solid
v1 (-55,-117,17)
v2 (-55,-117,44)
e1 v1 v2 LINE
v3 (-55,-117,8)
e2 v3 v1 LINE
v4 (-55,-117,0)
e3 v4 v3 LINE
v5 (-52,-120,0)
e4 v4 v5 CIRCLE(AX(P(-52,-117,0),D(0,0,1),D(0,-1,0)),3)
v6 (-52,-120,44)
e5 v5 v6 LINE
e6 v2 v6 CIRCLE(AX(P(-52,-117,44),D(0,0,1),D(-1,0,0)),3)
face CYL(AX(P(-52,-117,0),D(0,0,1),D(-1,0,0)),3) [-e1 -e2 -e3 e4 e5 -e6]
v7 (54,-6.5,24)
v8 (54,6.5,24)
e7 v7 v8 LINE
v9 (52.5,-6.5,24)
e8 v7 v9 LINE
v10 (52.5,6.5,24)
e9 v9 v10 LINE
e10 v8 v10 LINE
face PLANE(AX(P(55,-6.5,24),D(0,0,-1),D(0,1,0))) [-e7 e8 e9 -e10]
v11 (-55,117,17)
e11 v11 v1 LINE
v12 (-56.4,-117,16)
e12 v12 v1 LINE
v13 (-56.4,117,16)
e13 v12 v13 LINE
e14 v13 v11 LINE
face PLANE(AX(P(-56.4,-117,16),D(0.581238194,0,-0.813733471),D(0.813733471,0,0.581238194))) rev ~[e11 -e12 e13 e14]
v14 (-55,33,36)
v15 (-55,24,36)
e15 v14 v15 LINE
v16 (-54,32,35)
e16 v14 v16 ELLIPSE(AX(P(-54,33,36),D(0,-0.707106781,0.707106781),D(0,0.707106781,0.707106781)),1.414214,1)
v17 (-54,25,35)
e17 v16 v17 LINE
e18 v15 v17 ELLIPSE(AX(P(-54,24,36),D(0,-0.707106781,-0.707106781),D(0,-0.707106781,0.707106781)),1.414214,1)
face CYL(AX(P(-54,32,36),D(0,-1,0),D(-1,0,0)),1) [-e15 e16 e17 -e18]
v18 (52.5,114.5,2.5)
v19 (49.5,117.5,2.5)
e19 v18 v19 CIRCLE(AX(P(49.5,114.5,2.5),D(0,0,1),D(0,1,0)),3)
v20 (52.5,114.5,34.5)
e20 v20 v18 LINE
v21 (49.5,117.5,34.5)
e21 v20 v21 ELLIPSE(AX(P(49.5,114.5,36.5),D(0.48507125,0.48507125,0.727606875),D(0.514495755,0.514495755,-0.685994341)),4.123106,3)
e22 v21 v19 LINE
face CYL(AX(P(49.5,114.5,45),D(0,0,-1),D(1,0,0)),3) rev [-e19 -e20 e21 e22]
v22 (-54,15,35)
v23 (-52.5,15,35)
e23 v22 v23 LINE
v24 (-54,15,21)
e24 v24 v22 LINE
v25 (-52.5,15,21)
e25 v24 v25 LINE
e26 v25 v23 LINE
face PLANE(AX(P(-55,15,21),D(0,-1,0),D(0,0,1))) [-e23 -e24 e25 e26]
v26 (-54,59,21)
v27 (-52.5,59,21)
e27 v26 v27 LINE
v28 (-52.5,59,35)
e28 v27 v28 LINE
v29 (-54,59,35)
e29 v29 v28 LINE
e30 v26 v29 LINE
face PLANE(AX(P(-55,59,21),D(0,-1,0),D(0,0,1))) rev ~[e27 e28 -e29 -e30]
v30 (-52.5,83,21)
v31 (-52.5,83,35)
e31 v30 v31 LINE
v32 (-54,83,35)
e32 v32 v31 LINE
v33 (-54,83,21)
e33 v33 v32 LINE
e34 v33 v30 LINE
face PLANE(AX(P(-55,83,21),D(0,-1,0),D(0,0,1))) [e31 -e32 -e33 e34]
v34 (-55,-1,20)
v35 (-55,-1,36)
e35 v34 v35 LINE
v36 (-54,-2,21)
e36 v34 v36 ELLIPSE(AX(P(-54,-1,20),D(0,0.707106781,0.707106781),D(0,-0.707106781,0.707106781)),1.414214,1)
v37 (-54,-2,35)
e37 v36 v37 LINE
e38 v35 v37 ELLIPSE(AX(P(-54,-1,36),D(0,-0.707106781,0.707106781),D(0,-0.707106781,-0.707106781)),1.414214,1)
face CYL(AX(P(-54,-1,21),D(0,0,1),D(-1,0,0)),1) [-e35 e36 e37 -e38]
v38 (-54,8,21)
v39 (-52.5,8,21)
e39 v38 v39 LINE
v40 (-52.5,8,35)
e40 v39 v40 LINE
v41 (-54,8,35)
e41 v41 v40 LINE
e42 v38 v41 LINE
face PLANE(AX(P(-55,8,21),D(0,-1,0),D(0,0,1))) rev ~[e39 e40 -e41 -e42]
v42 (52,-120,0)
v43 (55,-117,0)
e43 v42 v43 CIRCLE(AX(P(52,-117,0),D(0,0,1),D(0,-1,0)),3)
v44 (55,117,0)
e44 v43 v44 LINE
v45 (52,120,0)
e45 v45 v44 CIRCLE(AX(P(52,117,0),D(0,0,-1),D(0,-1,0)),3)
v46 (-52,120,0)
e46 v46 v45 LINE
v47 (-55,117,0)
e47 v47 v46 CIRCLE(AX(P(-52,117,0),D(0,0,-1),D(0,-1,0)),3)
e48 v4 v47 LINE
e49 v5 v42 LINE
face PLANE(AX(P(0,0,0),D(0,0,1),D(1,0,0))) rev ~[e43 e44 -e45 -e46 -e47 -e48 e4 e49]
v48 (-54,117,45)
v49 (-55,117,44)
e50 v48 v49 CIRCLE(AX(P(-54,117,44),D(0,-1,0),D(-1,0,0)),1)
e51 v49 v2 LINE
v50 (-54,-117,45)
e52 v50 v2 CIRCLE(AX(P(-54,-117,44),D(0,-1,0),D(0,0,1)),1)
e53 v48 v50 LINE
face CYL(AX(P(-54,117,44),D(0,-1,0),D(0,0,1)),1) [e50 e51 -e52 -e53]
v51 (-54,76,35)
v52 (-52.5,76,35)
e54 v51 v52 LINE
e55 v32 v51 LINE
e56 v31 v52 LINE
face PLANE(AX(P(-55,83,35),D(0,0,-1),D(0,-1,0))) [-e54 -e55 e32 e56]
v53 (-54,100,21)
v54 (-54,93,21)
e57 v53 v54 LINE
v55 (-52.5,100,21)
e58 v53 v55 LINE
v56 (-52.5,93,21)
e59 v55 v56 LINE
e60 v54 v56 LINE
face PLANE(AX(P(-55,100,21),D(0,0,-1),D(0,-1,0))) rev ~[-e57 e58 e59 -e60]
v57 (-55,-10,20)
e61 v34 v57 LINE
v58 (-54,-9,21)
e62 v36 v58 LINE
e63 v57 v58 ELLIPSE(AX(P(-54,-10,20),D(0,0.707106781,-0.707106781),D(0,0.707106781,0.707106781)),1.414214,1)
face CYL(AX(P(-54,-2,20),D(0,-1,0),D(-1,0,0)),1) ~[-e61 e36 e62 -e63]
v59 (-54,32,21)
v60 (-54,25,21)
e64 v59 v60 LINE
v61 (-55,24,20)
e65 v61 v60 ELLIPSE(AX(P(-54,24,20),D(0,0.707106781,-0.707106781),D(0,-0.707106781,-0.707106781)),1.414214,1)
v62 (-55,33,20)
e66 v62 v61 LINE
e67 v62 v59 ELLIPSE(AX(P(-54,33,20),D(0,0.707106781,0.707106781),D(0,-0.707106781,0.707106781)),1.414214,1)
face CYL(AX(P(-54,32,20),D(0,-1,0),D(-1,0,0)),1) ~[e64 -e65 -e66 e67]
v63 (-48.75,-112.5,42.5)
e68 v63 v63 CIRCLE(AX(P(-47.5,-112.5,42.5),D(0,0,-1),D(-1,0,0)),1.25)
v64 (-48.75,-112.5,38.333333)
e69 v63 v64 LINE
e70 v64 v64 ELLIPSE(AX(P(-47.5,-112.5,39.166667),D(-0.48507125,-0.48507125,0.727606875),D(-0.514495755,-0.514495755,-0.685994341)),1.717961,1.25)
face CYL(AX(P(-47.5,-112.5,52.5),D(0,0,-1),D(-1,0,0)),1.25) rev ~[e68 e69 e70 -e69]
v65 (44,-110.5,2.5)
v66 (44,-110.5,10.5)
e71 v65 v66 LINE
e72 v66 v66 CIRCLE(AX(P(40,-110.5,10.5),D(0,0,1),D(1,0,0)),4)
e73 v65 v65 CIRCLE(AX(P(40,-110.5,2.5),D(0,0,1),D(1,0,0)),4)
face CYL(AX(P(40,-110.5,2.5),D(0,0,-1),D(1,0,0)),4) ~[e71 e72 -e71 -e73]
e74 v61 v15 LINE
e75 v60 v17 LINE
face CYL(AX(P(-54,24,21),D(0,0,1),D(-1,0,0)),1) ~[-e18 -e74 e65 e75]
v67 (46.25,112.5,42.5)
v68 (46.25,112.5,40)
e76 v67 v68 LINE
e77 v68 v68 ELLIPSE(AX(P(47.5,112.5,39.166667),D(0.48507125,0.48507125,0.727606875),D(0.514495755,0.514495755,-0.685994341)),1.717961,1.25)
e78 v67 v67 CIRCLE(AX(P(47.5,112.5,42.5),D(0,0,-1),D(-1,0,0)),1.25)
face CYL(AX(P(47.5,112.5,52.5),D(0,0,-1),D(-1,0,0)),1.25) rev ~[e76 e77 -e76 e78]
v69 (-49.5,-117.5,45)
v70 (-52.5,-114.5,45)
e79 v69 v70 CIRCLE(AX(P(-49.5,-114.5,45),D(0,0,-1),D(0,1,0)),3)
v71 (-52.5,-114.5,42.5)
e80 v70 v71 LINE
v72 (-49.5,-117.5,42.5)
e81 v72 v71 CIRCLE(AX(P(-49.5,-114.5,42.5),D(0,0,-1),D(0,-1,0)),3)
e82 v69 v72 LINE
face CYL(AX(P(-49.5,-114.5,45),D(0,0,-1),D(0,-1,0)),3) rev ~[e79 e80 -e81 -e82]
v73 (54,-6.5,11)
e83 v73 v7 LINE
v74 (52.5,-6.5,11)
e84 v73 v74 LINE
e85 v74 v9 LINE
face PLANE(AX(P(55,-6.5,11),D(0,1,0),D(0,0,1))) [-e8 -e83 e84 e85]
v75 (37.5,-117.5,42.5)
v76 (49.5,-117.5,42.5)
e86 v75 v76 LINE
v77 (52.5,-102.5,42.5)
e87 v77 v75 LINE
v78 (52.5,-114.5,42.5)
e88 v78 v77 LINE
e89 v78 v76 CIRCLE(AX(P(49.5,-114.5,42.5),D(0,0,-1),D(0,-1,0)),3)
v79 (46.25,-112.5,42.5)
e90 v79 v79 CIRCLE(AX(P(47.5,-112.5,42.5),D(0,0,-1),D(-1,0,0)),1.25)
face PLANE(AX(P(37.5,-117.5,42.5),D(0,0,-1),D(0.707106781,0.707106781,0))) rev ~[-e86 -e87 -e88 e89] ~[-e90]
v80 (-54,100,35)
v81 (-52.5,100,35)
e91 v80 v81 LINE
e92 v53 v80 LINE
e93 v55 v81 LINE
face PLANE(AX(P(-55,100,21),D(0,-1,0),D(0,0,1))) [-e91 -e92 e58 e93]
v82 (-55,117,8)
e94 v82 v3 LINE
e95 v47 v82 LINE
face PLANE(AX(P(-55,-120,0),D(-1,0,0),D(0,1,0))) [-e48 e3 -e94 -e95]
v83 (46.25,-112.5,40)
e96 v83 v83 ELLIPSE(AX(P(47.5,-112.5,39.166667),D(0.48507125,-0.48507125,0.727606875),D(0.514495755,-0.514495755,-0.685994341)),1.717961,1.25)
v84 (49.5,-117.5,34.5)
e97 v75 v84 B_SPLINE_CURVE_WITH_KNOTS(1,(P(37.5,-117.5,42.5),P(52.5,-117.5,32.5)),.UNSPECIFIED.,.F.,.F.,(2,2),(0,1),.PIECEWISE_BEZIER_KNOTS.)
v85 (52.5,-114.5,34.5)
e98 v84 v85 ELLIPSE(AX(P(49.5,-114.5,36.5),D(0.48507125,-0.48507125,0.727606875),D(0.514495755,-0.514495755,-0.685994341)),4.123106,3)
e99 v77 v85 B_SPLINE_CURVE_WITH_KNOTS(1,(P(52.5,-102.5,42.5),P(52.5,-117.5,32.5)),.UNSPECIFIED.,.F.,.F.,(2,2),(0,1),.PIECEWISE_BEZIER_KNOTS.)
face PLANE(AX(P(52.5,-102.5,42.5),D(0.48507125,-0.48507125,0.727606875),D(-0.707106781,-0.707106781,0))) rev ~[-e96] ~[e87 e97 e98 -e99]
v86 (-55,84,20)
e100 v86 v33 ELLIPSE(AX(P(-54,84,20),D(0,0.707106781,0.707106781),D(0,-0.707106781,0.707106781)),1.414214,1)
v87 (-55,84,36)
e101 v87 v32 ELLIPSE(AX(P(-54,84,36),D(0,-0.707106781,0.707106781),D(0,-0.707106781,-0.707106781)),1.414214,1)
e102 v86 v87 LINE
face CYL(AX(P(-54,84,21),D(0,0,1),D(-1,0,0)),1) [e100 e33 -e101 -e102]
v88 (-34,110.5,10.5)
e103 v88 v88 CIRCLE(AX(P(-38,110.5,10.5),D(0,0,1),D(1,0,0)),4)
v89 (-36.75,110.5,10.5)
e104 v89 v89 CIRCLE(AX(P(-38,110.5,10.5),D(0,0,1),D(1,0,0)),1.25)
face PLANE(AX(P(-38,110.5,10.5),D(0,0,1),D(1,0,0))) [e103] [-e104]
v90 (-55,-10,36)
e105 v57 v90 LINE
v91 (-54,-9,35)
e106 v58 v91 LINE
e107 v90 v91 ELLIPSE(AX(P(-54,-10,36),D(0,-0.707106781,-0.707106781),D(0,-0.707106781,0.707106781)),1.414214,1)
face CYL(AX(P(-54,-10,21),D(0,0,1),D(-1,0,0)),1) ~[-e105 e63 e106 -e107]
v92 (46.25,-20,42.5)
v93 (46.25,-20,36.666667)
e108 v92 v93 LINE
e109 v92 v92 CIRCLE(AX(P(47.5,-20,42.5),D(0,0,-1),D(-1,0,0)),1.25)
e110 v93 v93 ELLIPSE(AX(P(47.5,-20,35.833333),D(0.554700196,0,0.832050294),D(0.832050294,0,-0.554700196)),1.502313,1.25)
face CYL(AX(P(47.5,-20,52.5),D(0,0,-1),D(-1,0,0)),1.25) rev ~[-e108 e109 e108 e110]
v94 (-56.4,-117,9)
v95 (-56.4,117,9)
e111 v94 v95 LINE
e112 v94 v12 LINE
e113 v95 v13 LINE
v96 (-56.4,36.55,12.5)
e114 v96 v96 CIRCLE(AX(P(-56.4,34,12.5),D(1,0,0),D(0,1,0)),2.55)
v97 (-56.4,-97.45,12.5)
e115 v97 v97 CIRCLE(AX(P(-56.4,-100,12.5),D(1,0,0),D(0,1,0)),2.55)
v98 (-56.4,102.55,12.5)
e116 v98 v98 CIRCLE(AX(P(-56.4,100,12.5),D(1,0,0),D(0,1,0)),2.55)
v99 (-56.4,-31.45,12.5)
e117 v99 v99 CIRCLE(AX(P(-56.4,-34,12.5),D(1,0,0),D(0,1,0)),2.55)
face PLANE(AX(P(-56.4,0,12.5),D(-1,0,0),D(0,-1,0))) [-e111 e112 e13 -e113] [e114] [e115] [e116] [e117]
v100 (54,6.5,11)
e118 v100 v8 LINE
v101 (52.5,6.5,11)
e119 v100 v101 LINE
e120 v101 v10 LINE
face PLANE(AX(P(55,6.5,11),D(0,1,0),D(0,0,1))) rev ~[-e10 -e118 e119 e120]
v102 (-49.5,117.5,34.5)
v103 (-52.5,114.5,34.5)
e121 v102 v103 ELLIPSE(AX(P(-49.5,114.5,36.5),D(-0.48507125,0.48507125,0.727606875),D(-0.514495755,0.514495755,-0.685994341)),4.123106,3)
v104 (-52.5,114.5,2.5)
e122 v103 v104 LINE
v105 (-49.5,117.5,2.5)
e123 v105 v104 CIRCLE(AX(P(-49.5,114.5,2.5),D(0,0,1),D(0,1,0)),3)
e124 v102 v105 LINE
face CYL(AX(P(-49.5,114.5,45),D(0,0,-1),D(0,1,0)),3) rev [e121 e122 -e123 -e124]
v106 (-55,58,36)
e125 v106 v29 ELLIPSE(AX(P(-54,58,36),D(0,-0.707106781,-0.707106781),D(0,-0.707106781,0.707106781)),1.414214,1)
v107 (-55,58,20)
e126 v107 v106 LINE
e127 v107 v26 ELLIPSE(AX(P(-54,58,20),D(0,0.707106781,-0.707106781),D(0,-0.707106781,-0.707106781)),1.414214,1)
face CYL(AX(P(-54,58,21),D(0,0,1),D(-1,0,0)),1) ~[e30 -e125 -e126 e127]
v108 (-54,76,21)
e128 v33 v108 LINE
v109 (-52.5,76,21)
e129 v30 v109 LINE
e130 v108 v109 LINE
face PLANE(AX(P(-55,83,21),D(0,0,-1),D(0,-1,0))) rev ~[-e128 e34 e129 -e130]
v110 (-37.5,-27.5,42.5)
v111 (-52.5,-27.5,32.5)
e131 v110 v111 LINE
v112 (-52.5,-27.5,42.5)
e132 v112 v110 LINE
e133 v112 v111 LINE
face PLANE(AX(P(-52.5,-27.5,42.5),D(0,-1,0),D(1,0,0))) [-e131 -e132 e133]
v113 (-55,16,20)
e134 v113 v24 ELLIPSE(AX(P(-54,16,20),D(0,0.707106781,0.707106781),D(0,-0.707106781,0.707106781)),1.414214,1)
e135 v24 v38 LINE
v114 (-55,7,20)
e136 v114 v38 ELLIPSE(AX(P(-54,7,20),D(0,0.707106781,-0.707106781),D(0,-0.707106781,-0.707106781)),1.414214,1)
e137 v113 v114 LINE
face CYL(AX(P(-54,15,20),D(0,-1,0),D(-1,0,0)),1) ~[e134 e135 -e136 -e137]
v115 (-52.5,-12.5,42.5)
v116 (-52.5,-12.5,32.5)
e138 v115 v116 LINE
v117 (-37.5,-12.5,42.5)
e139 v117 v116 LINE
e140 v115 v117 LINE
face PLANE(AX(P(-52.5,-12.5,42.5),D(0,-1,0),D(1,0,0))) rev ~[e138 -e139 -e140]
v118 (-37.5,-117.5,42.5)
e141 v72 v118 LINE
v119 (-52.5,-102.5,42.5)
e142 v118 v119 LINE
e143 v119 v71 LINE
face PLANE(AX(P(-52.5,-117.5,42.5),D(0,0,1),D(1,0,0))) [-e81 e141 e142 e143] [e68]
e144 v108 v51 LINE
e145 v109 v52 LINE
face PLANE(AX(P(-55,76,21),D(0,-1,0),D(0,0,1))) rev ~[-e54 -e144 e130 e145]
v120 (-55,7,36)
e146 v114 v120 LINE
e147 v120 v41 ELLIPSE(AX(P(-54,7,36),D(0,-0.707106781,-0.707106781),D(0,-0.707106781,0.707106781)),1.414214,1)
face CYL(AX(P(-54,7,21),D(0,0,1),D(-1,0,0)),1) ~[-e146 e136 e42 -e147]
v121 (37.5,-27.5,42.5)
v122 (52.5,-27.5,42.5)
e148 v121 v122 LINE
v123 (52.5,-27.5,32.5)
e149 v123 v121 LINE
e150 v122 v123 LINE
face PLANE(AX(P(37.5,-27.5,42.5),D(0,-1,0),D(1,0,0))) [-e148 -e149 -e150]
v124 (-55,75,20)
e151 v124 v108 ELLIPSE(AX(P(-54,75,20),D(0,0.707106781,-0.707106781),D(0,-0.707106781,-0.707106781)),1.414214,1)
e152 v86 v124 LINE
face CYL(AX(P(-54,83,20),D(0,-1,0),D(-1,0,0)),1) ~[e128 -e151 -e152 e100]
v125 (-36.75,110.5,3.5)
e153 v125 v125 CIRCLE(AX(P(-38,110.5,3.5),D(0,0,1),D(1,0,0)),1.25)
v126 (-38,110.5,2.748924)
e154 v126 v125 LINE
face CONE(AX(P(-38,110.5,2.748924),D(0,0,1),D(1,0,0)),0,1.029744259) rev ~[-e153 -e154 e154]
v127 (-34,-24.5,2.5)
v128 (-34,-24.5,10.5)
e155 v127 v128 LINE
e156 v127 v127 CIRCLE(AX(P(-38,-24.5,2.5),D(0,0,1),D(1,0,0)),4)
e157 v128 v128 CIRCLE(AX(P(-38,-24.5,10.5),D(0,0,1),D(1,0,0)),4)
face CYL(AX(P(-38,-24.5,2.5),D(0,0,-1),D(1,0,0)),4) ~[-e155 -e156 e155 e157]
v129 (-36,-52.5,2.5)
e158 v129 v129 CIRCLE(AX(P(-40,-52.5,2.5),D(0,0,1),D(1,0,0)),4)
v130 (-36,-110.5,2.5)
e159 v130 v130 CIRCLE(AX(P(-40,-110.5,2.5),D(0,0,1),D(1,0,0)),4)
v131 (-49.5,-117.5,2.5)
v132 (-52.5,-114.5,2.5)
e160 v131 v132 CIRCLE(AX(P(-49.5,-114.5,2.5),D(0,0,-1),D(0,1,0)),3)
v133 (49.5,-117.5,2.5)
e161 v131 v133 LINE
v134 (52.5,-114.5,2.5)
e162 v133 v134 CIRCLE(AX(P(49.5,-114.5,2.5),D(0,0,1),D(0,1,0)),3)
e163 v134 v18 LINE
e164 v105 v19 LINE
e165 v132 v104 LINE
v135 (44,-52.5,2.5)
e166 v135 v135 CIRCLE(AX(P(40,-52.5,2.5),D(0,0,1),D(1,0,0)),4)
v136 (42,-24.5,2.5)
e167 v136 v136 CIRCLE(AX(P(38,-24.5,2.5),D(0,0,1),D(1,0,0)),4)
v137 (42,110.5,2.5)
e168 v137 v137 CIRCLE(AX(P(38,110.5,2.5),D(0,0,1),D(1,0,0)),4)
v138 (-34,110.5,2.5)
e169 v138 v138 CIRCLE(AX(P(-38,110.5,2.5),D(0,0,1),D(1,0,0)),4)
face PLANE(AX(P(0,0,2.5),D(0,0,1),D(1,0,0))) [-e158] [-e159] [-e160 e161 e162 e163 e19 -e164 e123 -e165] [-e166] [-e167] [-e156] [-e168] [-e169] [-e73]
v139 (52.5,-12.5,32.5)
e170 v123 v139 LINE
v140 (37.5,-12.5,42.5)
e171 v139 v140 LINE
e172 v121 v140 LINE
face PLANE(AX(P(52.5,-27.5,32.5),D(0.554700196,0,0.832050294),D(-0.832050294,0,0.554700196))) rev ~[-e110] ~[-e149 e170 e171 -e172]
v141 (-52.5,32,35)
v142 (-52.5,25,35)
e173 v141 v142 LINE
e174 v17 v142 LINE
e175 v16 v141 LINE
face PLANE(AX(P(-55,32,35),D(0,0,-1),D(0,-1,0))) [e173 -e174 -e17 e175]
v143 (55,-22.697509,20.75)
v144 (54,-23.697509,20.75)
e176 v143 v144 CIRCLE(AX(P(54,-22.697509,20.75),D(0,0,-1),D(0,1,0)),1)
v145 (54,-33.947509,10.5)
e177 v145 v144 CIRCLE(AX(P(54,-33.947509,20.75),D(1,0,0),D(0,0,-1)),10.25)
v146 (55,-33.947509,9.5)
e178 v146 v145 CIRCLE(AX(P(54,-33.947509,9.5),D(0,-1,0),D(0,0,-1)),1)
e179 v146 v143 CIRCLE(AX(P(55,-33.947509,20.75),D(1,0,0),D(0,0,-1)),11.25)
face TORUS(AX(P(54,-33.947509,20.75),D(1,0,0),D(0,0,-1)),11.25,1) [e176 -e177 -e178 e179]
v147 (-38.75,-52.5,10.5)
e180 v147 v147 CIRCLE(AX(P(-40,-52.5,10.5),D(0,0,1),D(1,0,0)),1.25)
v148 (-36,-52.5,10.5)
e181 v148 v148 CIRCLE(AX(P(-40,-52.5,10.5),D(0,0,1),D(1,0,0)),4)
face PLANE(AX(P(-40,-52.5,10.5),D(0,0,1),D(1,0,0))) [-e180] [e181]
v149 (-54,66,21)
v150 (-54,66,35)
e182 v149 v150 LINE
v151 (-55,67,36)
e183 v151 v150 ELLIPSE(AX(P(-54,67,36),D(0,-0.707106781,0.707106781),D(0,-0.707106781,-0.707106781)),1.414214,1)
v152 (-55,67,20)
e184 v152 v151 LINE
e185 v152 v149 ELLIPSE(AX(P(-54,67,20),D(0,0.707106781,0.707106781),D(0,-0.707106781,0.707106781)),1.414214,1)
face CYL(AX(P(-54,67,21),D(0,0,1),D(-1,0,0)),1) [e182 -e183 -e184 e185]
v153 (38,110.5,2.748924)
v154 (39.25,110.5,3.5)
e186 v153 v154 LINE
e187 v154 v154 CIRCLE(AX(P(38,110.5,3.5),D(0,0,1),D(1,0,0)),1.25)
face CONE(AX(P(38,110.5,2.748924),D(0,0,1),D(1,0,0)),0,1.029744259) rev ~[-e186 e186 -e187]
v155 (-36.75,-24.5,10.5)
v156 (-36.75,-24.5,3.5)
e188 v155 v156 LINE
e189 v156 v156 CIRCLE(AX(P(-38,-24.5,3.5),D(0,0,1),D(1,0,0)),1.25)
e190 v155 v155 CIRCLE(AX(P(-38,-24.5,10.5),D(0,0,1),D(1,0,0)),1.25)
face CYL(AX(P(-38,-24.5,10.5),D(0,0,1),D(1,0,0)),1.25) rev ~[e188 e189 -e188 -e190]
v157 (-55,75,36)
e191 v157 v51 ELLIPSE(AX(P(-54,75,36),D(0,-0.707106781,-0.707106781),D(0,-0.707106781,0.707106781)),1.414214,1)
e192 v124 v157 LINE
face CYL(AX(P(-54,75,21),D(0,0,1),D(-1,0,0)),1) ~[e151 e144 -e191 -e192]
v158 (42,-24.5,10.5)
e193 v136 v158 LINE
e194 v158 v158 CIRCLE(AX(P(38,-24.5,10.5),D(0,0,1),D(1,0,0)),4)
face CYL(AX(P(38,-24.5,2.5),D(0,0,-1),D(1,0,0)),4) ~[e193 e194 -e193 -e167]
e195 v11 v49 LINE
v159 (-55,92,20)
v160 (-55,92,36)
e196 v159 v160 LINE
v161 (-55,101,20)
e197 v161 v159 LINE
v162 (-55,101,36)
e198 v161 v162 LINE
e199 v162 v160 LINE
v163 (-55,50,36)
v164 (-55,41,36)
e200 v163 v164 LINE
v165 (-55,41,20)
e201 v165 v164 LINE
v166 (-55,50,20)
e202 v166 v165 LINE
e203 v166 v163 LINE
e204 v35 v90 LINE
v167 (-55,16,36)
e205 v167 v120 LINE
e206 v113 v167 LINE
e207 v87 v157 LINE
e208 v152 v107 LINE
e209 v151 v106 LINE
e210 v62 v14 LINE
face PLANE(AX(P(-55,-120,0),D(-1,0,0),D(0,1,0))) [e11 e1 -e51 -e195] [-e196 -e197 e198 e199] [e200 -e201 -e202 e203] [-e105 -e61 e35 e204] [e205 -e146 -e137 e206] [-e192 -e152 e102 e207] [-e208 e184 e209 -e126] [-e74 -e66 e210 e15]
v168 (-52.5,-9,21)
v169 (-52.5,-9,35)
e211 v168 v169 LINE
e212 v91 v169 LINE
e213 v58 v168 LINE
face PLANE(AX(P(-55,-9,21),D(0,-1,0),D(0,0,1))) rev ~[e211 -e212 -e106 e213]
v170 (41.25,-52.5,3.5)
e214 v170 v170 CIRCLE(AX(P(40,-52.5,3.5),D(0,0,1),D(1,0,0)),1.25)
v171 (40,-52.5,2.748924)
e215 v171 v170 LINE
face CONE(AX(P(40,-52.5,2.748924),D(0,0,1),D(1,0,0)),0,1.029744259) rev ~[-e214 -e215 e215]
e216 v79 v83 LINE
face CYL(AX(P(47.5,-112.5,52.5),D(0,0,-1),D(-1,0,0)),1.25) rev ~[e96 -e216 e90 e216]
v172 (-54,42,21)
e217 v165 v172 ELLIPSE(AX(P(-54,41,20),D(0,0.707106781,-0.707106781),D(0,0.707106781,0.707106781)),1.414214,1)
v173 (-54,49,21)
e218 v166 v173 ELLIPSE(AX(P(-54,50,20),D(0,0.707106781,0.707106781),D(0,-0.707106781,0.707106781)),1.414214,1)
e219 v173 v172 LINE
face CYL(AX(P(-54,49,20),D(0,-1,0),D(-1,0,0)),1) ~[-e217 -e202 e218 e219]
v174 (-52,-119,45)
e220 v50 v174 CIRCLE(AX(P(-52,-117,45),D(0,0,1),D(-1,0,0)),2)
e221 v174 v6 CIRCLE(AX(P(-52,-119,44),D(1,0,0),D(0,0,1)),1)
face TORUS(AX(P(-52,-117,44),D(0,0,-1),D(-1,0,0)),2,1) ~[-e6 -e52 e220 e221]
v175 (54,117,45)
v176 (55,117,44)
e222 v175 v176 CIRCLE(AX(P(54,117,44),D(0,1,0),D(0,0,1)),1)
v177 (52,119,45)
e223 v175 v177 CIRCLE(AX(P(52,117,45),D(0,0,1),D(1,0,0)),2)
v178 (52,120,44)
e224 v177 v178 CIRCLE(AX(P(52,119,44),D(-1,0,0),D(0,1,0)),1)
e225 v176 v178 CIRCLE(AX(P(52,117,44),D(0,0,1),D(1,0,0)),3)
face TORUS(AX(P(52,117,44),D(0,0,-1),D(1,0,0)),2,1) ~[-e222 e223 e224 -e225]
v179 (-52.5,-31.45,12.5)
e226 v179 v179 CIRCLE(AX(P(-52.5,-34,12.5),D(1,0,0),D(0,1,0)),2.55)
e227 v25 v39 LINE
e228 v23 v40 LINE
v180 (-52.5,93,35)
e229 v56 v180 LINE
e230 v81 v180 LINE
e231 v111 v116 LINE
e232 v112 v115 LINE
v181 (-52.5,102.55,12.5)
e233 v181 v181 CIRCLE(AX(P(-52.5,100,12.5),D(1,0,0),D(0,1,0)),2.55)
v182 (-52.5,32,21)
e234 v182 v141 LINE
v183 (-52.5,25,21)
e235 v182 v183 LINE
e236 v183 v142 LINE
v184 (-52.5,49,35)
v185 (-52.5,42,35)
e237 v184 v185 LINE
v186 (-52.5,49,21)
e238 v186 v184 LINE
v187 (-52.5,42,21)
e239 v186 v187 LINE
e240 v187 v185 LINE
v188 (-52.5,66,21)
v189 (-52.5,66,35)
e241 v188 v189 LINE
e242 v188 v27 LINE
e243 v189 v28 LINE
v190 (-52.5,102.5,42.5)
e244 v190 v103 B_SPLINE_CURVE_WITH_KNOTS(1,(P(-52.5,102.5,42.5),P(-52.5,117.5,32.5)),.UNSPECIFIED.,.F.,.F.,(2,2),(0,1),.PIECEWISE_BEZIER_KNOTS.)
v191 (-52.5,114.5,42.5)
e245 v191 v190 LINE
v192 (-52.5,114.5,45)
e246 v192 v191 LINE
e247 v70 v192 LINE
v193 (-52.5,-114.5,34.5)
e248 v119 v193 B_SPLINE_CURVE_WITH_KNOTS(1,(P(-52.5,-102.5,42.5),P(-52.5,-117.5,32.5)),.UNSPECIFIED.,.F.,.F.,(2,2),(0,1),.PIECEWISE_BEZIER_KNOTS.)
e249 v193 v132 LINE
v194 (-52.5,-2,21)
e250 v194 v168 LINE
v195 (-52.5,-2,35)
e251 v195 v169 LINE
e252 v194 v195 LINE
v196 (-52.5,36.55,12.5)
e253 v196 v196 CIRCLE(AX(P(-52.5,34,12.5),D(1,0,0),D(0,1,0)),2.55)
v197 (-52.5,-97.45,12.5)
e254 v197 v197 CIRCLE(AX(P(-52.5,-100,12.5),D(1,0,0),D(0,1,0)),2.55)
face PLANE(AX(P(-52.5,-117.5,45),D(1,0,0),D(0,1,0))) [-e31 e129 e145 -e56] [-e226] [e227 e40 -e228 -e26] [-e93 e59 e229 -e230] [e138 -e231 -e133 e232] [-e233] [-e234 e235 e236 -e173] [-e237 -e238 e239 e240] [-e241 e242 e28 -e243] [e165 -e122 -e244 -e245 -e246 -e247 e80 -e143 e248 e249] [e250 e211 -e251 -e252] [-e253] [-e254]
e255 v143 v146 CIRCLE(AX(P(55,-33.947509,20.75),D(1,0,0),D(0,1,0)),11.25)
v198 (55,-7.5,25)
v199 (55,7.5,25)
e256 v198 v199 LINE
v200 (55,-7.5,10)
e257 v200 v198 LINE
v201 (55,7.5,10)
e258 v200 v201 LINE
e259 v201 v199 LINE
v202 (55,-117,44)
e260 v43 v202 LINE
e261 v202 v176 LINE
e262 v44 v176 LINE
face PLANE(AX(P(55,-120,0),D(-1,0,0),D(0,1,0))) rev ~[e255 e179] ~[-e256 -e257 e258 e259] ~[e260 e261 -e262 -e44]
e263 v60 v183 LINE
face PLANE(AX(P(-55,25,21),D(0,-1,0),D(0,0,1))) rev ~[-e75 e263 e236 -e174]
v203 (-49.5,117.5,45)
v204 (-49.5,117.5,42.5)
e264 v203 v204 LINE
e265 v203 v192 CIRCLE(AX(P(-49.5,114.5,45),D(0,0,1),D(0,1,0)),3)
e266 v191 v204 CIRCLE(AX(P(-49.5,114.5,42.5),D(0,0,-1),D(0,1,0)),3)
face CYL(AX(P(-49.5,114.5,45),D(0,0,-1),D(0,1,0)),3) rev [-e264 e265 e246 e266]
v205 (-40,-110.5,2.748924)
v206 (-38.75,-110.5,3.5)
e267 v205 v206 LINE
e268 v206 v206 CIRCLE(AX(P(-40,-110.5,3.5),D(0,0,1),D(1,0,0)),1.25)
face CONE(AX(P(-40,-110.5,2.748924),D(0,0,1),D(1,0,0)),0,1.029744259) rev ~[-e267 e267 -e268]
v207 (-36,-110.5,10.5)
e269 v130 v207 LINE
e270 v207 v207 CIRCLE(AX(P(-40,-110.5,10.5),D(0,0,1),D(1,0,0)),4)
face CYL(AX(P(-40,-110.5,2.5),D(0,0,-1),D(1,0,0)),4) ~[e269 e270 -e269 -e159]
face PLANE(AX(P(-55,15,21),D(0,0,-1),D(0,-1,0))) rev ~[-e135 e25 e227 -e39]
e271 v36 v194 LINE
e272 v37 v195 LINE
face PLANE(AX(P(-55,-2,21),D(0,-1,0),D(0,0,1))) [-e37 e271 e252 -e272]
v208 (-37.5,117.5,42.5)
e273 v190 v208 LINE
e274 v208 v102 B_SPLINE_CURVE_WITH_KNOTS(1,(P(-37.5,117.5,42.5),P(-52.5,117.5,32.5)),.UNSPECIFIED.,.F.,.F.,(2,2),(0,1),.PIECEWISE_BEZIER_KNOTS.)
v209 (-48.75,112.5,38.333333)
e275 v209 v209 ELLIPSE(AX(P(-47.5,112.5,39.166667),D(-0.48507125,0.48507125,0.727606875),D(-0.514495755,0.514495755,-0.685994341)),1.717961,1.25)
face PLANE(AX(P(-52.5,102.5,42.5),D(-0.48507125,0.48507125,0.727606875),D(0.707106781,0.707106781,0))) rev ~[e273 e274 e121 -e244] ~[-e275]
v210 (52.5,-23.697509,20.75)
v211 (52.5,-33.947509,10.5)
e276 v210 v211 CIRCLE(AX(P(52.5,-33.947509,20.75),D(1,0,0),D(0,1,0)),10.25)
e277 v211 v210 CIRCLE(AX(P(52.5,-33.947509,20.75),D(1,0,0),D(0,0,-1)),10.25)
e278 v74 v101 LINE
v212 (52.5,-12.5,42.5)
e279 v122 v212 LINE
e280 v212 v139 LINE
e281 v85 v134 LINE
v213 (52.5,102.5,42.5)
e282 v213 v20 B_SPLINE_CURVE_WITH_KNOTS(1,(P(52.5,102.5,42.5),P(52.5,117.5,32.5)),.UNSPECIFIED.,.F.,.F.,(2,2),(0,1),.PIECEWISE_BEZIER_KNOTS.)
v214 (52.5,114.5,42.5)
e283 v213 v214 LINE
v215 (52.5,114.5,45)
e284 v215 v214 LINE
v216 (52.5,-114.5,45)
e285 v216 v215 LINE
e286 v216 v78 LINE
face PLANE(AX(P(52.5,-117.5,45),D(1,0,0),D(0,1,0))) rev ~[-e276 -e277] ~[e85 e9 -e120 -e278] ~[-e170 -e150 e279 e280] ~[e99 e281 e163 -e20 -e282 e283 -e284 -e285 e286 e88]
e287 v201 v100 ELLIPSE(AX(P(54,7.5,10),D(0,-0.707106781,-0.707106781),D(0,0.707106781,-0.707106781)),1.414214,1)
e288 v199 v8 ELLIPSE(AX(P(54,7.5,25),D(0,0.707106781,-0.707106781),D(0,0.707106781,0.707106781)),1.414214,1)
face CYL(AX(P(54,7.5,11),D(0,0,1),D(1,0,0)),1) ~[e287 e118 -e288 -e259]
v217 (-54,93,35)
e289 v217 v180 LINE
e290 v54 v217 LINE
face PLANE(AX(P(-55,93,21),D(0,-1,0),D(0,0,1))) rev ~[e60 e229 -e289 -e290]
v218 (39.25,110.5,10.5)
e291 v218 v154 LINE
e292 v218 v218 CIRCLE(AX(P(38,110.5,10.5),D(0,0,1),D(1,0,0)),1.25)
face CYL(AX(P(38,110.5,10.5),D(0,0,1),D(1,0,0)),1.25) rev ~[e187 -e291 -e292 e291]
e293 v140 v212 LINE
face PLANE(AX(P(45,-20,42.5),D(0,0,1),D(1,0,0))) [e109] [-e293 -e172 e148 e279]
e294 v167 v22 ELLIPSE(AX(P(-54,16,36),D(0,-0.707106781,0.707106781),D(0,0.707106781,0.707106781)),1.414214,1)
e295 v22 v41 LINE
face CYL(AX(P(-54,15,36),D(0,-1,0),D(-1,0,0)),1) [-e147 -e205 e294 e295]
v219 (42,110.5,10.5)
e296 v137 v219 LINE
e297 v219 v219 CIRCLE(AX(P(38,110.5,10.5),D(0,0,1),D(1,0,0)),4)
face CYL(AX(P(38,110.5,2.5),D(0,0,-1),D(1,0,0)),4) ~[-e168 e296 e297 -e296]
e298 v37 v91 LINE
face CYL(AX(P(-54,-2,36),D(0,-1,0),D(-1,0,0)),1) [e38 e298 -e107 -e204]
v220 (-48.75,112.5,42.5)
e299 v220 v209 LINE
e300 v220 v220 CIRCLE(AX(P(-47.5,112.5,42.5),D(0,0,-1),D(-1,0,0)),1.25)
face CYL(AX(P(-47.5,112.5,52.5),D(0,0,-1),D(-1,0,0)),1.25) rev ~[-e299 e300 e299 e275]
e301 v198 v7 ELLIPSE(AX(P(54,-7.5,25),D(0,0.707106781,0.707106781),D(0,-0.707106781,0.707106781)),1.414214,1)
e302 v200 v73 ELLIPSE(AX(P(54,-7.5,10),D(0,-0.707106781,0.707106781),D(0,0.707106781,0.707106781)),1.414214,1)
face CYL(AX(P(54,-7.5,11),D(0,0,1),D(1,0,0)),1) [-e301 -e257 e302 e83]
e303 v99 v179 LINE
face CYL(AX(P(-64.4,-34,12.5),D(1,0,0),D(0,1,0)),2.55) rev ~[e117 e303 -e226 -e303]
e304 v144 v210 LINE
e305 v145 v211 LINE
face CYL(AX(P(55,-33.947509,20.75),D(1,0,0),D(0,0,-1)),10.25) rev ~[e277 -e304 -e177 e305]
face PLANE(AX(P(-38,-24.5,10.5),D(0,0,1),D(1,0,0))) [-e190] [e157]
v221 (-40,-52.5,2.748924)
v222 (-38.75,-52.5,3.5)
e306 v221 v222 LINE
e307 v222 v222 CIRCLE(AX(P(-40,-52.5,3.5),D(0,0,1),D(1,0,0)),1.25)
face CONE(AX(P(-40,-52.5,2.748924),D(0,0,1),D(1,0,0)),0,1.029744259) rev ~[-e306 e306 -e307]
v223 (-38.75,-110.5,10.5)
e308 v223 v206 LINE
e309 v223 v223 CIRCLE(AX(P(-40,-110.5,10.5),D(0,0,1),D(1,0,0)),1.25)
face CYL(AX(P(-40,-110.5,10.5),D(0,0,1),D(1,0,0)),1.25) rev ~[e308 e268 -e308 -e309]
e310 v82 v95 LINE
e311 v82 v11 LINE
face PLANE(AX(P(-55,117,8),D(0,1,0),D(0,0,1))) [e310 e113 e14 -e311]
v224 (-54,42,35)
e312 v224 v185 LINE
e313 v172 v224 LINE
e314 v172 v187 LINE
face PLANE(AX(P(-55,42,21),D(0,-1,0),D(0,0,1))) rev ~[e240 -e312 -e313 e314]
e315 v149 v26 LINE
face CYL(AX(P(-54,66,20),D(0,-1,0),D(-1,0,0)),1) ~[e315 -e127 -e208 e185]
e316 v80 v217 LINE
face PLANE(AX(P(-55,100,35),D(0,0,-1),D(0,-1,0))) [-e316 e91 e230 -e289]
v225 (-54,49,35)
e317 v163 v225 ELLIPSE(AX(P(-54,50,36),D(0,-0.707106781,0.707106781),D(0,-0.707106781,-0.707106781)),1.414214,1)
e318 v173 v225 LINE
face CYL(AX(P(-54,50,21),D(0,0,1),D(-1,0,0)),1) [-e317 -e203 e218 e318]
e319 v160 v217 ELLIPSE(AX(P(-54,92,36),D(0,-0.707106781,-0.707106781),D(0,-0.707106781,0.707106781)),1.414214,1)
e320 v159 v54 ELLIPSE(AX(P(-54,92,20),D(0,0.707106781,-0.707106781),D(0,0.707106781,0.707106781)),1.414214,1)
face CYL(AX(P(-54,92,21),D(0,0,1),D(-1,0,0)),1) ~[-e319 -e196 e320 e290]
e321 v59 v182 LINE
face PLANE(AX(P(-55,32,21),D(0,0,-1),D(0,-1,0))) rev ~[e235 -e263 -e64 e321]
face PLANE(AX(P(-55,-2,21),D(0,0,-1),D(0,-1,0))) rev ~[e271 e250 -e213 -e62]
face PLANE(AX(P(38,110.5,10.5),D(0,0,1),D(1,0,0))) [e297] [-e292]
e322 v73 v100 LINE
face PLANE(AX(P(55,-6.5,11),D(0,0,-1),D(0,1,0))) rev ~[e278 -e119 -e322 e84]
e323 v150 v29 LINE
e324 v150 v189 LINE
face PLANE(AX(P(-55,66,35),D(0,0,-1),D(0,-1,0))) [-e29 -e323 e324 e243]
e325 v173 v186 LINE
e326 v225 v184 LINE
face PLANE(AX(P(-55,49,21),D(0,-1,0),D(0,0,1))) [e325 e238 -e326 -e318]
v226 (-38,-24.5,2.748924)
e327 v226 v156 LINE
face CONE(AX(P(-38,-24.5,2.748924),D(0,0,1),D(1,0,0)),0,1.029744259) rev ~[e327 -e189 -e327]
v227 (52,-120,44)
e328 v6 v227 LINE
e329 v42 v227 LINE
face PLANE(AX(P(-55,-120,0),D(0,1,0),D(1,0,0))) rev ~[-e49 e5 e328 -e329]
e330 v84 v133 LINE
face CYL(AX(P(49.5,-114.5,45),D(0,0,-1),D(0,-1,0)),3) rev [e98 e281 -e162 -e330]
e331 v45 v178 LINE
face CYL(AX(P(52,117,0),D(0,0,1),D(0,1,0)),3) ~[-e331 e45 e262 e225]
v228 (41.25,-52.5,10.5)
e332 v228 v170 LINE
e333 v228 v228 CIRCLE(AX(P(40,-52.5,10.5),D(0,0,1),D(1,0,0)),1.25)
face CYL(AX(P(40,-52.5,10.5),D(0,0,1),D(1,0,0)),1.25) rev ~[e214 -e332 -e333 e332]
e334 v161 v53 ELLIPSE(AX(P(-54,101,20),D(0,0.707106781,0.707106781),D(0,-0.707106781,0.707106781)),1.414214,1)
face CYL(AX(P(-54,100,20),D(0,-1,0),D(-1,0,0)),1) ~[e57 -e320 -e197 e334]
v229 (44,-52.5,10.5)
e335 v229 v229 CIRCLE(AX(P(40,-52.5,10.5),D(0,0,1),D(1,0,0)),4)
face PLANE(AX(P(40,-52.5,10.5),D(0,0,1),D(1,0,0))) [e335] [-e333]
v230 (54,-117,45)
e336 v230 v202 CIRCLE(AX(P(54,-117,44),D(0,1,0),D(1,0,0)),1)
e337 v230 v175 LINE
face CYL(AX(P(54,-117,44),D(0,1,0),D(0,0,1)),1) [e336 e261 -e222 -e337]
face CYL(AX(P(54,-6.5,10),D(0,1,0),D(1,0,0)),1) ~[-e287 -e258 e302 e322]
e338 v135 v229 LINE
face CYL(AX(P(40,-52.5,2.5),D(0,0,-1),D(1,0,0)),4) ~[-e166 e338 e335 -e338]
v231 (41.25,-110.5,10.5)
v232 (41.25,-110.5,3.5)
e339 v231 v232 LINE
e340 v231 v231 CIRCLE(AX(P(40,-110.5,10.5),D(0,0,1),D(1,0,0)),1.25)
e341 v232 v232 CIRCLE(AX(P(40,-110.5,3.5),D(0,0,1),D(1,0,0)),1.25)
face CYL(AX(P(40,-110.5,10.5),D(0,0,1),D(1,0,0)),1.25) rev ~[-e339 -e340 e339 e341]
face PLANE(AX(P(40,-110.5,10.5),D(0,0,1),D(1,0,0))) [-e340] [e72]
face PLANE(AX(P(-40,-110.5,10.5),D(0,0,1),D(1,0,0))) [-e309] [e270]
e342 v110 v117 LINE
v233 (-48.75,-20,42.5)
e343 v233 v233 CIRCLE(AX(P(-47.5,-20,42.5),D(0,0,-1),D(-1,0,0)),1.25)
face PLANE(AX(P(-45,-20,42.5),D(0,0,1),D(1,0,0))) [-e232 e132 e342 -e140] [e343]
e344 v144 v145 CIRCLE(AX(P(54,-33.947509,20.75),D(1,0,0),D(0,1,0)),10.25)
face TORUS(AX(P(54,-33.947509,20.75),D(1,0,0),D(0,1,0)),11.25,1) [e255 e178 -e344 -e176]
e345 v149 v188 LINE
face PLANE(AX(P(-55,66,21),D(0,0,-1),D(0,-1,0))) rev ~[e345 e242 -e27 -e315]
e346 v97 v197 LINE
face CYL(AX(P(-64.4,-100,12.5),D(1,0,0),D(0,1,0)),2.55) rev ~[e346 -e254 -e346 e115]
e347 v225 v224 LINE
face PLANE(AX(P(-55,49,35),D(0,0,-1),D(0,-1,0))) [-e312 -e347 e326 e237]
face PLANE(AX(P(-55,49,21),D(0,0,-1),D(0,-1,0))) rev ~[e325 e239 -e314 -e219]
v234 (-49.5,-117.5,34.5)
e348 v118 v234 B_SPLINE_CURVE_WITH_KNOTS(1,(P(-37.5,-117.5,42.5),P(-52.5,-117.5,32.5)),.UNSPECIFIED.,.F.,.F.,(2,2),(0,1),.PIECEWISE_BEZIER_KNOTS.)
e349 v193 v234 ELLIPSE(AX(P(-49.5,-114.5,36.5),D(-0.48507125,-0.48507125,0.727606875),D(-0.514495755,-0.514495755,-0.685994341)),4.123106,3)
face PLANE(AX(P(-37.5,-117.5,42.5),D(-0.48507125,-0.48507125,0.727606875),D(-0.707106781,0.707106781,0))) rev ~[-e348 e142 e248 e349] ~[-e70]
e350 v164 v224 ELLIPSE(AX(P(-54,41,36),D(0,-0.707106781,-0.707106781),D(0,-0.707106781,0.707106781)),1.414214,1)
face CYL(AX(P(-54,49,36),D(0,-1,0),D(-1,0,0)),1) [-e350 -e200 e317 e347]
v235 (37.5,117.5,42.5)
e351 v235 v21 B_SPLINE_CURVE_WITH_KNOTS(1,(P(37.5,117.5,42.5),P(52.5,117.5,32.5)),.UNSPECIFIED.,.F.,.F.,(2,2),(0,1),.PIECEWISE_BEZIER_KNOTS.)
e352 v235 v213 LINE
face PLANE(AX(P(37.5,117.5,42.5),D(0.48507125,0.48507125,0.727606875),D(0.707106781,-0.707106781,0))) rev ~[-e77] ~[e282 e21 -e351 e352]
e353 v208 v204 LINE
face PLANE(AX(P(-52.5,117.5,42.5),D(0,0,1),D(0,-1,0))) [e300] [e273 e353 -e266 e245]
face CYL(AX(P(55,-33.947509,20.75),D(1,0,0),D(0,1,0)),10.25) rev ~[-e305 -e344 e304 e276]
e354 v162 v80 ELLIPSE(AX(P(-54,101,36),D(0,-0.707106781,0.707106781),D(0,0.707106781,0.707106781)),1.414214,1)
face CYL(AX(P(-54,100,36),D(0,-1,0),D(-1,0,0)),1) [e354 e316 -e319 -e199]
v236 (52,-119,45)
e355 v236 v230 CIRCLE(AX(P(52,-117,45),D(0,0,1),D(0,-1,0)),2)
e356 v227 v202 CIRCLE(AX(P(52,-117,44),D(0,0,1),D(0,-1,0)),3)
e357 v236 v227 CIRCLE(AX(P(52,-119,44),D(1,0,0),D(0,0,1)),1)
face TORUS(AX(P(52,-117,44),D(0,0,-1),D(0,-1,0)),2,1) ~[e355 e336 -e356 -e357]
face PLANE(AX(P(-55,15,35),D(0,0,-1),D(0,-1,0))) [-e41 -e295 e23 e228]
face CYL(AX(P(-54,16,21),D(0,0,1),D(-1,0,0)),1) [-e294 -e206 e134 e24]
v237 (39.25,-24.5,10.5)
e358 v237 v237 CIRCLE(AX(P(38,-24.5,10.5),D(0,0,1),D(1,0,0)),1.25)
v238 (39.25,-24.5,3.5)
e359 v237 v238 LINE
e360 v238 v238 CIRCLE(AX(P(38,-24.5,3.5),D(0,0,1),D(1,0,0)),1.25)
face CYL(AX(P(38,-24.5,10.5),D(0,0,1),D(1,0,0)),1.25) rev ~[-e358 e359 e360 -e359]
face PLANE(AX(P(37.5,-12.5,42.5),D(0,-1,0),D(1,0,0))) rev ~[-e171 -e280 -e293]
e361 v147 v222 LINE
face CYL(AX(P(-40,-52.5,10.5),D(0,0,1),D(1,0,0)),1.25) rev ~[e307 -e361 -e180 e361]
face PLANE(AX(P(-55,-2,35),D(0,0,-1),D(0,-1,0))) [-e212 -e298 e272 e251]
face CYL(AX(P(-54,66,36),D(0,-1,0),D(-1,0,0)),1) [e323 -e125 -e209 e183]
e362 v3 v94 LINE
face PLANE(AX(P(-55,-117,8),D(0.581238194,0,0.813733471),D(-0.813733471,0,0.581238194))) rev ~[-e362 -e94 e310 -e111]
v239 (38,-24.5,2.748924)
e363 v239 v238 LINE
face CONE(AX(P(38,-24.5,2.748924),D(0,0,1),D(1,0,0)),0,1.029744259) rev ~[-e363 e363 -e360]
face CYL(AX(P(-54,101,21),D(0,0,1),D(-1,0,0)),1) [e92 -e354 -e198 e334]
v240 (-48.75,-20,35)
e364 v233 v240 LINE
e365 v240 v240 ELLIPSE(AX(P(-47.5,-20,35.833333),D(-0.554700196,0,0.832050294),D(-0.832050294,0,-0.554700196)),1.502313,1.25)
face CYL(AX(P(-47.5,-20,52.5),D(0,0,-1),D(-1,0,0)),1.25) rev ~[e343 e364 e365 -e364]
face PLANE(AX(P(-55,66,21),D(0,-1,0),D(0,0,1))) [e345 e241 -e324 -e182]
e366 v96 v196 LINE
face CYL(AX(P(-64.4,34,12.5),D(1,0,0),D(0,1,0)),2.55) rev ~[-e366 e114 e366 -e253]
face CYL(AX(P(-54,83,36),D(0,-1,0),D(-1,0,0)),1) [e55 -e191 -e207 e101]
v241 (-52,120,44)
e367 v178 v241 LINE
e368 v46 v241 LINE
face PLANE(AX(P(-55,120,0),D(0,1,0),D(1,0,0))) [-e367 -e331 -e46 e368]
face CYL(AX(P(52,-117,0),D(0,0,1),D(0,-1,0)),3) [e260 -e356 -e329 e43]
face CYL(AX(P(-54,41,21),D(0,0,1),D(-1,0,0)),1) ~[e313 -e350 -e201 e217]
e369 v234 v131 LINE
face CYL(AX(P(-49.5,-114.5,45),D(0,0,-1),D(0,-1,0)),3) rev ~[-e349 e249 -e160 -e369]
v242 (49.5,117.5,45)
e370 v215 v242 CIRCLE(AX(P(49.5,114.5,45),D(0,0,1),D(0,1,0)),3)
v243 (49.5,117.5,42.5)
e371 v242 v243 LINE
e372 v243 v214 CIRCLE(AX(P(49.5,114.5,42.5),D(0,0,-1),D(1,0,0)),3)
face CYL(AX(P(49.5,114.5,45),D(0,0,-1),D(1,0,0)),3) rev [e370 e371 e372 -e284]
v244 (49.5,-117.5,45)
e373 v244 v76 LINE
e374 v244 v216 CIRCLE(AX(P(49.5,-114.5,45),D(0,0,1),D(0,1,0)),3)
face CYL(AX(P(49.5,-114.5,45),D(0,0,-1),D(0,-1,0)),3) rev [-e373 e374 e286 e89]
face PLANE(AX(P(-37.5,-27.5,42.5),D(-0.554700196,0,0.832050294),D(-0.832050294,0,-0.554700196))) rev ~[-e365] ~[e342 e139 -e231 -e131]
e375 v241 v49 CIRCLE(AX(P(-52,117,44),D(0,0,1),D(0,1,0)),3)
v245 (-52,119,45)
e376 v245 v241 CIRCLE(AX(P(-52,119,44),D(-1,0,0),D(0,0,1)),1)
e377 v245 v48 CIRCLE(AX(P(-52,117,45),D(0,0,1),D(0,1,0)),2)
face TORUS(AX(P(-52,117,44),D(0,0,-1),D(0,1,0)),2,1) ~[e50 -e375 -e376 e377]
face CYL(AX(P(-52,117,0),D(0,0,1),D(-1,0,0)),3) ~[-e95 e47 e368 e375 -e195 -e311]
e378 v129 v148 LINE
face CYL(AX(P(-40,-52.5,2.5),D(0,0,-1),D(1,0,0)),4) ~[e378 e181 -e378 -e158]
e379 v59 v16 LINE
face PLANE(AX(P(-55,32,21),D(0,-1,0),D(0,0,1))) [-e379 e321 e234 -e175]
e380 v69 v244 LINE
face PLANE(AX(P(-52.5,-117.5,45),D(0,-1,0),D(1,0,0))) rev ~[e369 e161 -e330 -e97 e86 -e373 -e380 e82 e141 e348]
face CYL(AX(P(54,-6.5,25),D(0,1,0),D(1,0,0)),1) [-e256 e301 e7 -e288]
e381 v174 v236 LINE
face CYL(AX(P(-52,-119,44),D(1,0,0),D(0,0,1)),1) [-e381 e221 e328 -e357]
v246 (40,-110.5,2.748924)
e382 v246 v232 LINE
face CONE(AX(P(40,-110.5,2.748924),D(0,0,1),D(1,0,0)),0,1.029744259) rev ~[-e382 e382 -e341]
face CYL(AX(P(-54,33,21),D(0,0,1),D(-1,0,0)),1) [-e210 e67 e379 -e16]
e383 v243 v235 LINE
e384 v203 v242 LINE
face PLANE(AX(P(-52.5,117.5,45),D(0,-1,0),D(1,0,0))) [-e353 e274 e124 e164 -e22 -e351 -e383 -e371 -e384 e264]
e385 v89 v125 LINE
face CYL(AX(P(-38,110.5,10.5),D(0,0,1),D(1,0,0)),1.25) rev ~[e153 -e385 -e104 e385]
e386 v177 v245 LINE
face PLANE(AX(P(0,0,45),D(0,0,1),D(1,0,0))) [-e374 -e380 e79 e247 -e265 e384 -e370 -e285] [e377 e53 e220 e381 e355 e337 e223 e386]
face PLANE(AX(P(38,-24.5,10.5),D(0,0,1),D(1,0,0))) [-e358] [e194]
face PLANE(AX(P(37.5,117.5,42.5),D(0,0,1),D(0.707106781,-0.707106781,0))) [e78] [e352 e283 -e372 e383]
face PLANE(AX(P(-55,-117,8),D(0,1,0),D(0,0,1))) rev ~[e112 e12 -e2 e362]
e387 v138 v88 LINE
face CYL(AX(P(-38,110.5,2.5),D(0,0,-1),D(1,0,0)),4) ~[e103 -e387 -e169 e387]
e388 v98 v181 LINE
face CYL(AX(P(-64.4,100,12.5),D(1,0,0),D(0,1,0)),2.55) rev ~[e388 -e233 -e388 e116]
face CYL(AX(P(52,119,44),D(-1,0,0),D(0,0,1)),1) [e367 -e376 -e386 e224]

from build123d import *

# Parameters (mm, degrees)
F0_W      = 110
F0_H      = 240
F1_DEPTH  = 45
F2_W      = 105
F2_H      = 235
F3_DEPTH  = 42.5
F4_R      = 4
F5_DEPTH  = 8
F6_W      = 13
F6_H      = 13
F7_DEPTH  = 2.5
F8_W      = 7
F8_H      = 14
F9_DEPTH  = 2.5
F10_R     = 3
F11_R     = 3
F13_DEPTH = 2.5
F14_R     = 1
F23_D     = 2.5
F23_DEPTH = 10
F23_TIP   = 0.7510757738
F24_W     = 234
F24_H     = 9
F25_DEPTH = 1.4
F27_DEPTH = 234
F29_D     = 5.1
F29_DEPTH = 8
F29_TIP   = 1.5321945785
F17_W     = 15
F17_H     = 15
F30_DEPTH = 10
F32_DEPTH = 15
F34_DEPTH = 15
F35_D     = 2.5
F35_DEPTH = 10
F35_TIP   = 0.7510757738
F37_D     = 2.5
F37_DEPTH = 7
F37_TIP   = 0.7510757738


with BuildPart() as f1:
    # F0 (on Top) → F1 (new body)
    with BuildSketch(Plane.XY):
        Rectangle(F0_W, F0_H)
    extrude(amount=F1_DEPTH)

    # F2 (on face) → F3 (cut, through all)
    with BuildSketch(Plane.XY.offset(45)):
        Rectangle(F2_W, F2_H)
    extrude(amount=-F3_DEPTH, mode=Mode.SUBTRACT)

    # F4 (on face) → F5 (join)
    with BuildSketch(Plane.XY.offset(2.5)):
        with Locations((-38, 110.5)):
            Circle(F4_R)
        with Locations((38, 110.5)):
            Circle(F4_R)
        with Locations((-38, -24.5)):
            Circle(F4_R)
        with Locations((38, -24.5)):
            Circle(F4_R)
        with Locations((-40, -52.5)):
            Circle(F4_R)
        with Locations((40, -52.5)):
            Circle(F4_R)
        with Locations((-40, -110.5)):
            Circle(F4_R)
        with Locations((40, -110.5)):
            Circle(F4_R)
    extrude(amount=F5_DEPTH)

    # F6 (on face) → F7 (cut, through all)
    with BuildSketch(Plane.YZ.offset(55)):
        with Locations((0, 17.5)):
            Rectangle(F6_W, F6_H)
    extrude(amount=-F7_DEPTH, mode=Mode.SUBTRACT)

    # F8 (on face) → F9 (cut, through all)
    with BuildSketch(Plane(origin=(-55, 0, 0), x_dir=(0, -1, 0), z_dir=(-1, 0, 0))):
        with Locations((-62.5, 28)):
            Rectangle(F8_W, F8_H)
        with Locations((-45.5, 28)):
            Rectangle(F8_W, F8_H)
        with Locations((-28.5, 28)):
            Rectangle(F8_W, F8_H)
        with Locations((-11.5, 28)):
            Rectangle(F8_W, F8_H)
        with Locations((5.5, 28)):
            Rectangle(F8_W, F8_H)
        with Locations((-79.5, 28)):
            Rectangle(F8_W, F8_H)
        with Locations((-96.5, 28)):
            Rectangle(F8_W, F8_H)
    extrude(amount=-F9_DEPTH, mode=Mode.SUBTRACT)

    # F10
    f10_edges = [f1.edges().sort_by_distance(p)[0] for p in [
        (-55, -120, 22.5),
        (55, -120, 22.5),
        (-55, 120, 22.5),
        (55, 120, 22.5),
    ]]
    fillet(f10_edges, radius=F10_R)

    # F11
    f11_edges = [f1.edges().sort_by_distance(p)[0] for p in [
        (-52.5, -117.5, 23.75),
        (52.5, -117.5, 23.75),
        (-52.5, 117.5, 23.75),
        (52.5, 117.5, 23.75),
    ]]
    fillet(f11_edges, radius=F11_R)

    # F12 (on face) → F13 (cut, through all)
    with BuildSketch(Plane.YZ.offset(55)):
        with BuildLine():
            ThreePointArc((-33.9475087821, 10.5), (-26.699664275, 13.5021554928), (-23.6975087821, 20.75))
            ThreePointArc((-23.6975087821, 20.75), (-41.1953532893, 27.9978445072), (-33.9475087821, 10.5))
        make_face()
    extrude(amount=-F13_DEPTH, mode=Mode.SUBTRACT)

    # F14
    f14_edges = [f1.edges().sort_by_distance(p)[0] for p in [
        (0, -120, 45),
        (55, -33.947509, 31),
        (55, -6.5, 17.5),
        (55, 0, 11),
        (55, 6.5, 17.5),
        (55, 0, 24),
        (-55, 100, 28),
        (-55, 93, 28),
        (-55, 96.5, 21),
        (-55, 96.5, 35),
        (-55, 79.5, 35),
        (-55, 83, 28),
        (-55, 79.5, 21),
        (-55, 76, 28),
        (-55, 62.5, 35),
        (-55, 66, 28),
        (-55, 62.5, 21),
        (-55, 59, 28),
        (-55, 45.5, 35),
        (-55, 42, 28),
        (-55, 49, 28),
        (-55, 45.5, 21),
        (-55, 32, 28),
        (-55, 28.5, 21),
        (-55, 28.5, 35),
        (-55, 25, 28),
        (-55, 15, 28),
        (-55, 11.5, 21),
        (-55, 11.5, 35),
        (-55, 8, 28),
        (-55, -5.5, 35),
        (-55, -2, 28),
        (-55, -9, 28),
        (-55, -5.5, 21),
    ]]
    fillet(f14_edges, radius=F14_R)

    # F17 (on offset) → F19 section 0
    with BuildSketch(Plane.XY.offset(42.5), mode=Mode.PRIVATE) as f19_s0:
        Polygon((-52.5, 117.5), (-52.5, 102.5), (-37.5, 117.5), align=None)
    loft([f19_s0.sketch, Vertex(-52.5, 117.5, 32.5)])

    # F17 (on offset) → F20 section 0
    with BuildSketch(Plane.XY.offset(42.5), mode=Mode.PRIVATE) as f20_s0:
        Polygon((37.5, 117.5), (52.5, 102.5), (52.5, 117.5), align=None)
    loft([f20_s0.sketch, Vertex(52.5, 117.5, 32.5)])

    # F17 (on offset) → F21 section 0
    with BuildSketch(Plane.XY.offset(42.5), mode=Mode.PRIVATE) as f21_s0:
        Polygon((37.5, -117.5), (52.5, -117.5), (52.5, -102.5), align=None)
    loft([f21_s0.sketch, Vertex(52.5, -117.5, 32.5)])

    # F17 (on offset) → F22 section 0
    with BuildSketch(Plane.XY.offset(42.5), mode=Mode.PRIVATE) as f22_s0:
        Polygon((-52.5, -117.5), (-37.5, -117.5), (-52.5, -102.5), align=None)
    loft([f22_s0.sketch, Vertex(-52.5, -117.5, 32.5)])

    # F23
    with Locations(Plane.XY.offset(42.5)):
        with Locations((-47.5, -112.5), (-47.5, 112.5), (47.5, 112.5), (47.5, -112.5)):
            Hole(F23_D / 2, depth=F23_DEPTH)
            with Locations((0, 0, -(F23_DEPTH + F23_TIP / 2))):  # 118° drill point
                Cone(0, F23_D / 2, F23_TIP, mode=Mode.SUBTRACT)

    # F24 (on face) → F25 (join)
    with BuildSketch(Plane(origin=(-55, 0, 0), x_dir=(0, -1, 0), z_dir=(-1, 0, 0))):
        with Locations((0, 12.5)):
            Rectangle(F24_W, F24_H)
    extrude(amount=F25_DEPTH)

    # F26 (on face) → F27 (cut, through all)
    with BuildSketch(Plane.XZ.offset(117)):
        Polygon((-56.4, 16), (-55, 17), (-56.4, 17), align=None)
        Polygon((-56.4, 8), (-55, 8), (-56.4, 9), align=None)
    extrude(amount=-F27_DEPTH, mode=Mode.SUBTRACT)

    # F29
    with Locations(Plane(origin=(-56.4, 0, 0), x_dir=(0, -1, 0), z_dir=(-1, 0, 0))):
        with Locations((34, 12.5), (-34, 12.5), (-100, 12.5), (100, 12.5)):
            Hole(F29_D / 2, depth=F29_DEPTH)
            with Locations((0, 0, -(F29_DEPTH + F29_TIP / 2))):  # 118° drill point
                Cone(0, F29_D / 2, F29_TIP, mode=Mode.SUBTRACT)

    # F17 (on offset) → F30 (join)
    with BuildSketch(Plane.XY.offset(42.5)):
        with Locations((-45, -20)):
            Rectangle(F17_W, F17_H)
        with Locations((45, -20)):
            Rectangle(F17_W, F17_H)
    extrude(amount=-F30_DEPTH)

    # F31 (on face) → F32 (cut, through all)
    with BuildSketch(Plane.XZ.offset(27.5)):
        Polygon((-37.5, 42.5), (-52.5, 32.5), (-37.5, 32.5), align=None)
    extrude(amount=-F32_DEPTH, mode=Mode.SUBTRACT)

    # F33 (on face) → F34 (cut, through all)
    with BuildSketch(Plane.XZ.offset(27.5)):
        Polygon((52.5, 32.5), (37.5, 42.5), (37.5, 32.5), align=None)
    extrude(amount=-F34_DEPTH, mode=Mode.SUBTRACT)

    # F35
    with Locations(Plane.XY.offset(42.5)):
        with Locations((-47.5, -20), (47.5, -20)):
            Hole(F35_D / 2, depth=F35_DEPTH)
            with Locations((0, 0, -(F35_DEPTH + F35_TIP / 2))):  # 118° drill point
                Cone(0, F35_D / 2, F35_TIP, mode=Mode.SUBTRACT)

    # F37 (one way)
    with BuildSketch(Plane.XY.offset(10.5)):
        with Locations((-38, -24.5), (-40, -52.5), (40, -52.5), (38, -24.5), (-40, -110.5), (38, 110.5), (40, -110.5), (-38, 110.5)):
            Circle(F37_D / 2)
    extrude(amount=-F37_DEPTH, mode=Mode.SUBTRACT)
    with Locations(Plane.XY.offset(10.5)):
        with Locations((-38, -24.5), (-40, -52.5), (40, -52.5), (38, -24.5), (-40, -110.5), (38, 110.5), (40, -110.5), (-38, 110.5)):
            with Locations((0, 0, -(F37_DEPTH + F37_TIP / 2))):  # 118° drill point
                Cone(0, F37_D / 2, F37_TIP, mode=Mode.SUBTRACT)


solid = f1.part
